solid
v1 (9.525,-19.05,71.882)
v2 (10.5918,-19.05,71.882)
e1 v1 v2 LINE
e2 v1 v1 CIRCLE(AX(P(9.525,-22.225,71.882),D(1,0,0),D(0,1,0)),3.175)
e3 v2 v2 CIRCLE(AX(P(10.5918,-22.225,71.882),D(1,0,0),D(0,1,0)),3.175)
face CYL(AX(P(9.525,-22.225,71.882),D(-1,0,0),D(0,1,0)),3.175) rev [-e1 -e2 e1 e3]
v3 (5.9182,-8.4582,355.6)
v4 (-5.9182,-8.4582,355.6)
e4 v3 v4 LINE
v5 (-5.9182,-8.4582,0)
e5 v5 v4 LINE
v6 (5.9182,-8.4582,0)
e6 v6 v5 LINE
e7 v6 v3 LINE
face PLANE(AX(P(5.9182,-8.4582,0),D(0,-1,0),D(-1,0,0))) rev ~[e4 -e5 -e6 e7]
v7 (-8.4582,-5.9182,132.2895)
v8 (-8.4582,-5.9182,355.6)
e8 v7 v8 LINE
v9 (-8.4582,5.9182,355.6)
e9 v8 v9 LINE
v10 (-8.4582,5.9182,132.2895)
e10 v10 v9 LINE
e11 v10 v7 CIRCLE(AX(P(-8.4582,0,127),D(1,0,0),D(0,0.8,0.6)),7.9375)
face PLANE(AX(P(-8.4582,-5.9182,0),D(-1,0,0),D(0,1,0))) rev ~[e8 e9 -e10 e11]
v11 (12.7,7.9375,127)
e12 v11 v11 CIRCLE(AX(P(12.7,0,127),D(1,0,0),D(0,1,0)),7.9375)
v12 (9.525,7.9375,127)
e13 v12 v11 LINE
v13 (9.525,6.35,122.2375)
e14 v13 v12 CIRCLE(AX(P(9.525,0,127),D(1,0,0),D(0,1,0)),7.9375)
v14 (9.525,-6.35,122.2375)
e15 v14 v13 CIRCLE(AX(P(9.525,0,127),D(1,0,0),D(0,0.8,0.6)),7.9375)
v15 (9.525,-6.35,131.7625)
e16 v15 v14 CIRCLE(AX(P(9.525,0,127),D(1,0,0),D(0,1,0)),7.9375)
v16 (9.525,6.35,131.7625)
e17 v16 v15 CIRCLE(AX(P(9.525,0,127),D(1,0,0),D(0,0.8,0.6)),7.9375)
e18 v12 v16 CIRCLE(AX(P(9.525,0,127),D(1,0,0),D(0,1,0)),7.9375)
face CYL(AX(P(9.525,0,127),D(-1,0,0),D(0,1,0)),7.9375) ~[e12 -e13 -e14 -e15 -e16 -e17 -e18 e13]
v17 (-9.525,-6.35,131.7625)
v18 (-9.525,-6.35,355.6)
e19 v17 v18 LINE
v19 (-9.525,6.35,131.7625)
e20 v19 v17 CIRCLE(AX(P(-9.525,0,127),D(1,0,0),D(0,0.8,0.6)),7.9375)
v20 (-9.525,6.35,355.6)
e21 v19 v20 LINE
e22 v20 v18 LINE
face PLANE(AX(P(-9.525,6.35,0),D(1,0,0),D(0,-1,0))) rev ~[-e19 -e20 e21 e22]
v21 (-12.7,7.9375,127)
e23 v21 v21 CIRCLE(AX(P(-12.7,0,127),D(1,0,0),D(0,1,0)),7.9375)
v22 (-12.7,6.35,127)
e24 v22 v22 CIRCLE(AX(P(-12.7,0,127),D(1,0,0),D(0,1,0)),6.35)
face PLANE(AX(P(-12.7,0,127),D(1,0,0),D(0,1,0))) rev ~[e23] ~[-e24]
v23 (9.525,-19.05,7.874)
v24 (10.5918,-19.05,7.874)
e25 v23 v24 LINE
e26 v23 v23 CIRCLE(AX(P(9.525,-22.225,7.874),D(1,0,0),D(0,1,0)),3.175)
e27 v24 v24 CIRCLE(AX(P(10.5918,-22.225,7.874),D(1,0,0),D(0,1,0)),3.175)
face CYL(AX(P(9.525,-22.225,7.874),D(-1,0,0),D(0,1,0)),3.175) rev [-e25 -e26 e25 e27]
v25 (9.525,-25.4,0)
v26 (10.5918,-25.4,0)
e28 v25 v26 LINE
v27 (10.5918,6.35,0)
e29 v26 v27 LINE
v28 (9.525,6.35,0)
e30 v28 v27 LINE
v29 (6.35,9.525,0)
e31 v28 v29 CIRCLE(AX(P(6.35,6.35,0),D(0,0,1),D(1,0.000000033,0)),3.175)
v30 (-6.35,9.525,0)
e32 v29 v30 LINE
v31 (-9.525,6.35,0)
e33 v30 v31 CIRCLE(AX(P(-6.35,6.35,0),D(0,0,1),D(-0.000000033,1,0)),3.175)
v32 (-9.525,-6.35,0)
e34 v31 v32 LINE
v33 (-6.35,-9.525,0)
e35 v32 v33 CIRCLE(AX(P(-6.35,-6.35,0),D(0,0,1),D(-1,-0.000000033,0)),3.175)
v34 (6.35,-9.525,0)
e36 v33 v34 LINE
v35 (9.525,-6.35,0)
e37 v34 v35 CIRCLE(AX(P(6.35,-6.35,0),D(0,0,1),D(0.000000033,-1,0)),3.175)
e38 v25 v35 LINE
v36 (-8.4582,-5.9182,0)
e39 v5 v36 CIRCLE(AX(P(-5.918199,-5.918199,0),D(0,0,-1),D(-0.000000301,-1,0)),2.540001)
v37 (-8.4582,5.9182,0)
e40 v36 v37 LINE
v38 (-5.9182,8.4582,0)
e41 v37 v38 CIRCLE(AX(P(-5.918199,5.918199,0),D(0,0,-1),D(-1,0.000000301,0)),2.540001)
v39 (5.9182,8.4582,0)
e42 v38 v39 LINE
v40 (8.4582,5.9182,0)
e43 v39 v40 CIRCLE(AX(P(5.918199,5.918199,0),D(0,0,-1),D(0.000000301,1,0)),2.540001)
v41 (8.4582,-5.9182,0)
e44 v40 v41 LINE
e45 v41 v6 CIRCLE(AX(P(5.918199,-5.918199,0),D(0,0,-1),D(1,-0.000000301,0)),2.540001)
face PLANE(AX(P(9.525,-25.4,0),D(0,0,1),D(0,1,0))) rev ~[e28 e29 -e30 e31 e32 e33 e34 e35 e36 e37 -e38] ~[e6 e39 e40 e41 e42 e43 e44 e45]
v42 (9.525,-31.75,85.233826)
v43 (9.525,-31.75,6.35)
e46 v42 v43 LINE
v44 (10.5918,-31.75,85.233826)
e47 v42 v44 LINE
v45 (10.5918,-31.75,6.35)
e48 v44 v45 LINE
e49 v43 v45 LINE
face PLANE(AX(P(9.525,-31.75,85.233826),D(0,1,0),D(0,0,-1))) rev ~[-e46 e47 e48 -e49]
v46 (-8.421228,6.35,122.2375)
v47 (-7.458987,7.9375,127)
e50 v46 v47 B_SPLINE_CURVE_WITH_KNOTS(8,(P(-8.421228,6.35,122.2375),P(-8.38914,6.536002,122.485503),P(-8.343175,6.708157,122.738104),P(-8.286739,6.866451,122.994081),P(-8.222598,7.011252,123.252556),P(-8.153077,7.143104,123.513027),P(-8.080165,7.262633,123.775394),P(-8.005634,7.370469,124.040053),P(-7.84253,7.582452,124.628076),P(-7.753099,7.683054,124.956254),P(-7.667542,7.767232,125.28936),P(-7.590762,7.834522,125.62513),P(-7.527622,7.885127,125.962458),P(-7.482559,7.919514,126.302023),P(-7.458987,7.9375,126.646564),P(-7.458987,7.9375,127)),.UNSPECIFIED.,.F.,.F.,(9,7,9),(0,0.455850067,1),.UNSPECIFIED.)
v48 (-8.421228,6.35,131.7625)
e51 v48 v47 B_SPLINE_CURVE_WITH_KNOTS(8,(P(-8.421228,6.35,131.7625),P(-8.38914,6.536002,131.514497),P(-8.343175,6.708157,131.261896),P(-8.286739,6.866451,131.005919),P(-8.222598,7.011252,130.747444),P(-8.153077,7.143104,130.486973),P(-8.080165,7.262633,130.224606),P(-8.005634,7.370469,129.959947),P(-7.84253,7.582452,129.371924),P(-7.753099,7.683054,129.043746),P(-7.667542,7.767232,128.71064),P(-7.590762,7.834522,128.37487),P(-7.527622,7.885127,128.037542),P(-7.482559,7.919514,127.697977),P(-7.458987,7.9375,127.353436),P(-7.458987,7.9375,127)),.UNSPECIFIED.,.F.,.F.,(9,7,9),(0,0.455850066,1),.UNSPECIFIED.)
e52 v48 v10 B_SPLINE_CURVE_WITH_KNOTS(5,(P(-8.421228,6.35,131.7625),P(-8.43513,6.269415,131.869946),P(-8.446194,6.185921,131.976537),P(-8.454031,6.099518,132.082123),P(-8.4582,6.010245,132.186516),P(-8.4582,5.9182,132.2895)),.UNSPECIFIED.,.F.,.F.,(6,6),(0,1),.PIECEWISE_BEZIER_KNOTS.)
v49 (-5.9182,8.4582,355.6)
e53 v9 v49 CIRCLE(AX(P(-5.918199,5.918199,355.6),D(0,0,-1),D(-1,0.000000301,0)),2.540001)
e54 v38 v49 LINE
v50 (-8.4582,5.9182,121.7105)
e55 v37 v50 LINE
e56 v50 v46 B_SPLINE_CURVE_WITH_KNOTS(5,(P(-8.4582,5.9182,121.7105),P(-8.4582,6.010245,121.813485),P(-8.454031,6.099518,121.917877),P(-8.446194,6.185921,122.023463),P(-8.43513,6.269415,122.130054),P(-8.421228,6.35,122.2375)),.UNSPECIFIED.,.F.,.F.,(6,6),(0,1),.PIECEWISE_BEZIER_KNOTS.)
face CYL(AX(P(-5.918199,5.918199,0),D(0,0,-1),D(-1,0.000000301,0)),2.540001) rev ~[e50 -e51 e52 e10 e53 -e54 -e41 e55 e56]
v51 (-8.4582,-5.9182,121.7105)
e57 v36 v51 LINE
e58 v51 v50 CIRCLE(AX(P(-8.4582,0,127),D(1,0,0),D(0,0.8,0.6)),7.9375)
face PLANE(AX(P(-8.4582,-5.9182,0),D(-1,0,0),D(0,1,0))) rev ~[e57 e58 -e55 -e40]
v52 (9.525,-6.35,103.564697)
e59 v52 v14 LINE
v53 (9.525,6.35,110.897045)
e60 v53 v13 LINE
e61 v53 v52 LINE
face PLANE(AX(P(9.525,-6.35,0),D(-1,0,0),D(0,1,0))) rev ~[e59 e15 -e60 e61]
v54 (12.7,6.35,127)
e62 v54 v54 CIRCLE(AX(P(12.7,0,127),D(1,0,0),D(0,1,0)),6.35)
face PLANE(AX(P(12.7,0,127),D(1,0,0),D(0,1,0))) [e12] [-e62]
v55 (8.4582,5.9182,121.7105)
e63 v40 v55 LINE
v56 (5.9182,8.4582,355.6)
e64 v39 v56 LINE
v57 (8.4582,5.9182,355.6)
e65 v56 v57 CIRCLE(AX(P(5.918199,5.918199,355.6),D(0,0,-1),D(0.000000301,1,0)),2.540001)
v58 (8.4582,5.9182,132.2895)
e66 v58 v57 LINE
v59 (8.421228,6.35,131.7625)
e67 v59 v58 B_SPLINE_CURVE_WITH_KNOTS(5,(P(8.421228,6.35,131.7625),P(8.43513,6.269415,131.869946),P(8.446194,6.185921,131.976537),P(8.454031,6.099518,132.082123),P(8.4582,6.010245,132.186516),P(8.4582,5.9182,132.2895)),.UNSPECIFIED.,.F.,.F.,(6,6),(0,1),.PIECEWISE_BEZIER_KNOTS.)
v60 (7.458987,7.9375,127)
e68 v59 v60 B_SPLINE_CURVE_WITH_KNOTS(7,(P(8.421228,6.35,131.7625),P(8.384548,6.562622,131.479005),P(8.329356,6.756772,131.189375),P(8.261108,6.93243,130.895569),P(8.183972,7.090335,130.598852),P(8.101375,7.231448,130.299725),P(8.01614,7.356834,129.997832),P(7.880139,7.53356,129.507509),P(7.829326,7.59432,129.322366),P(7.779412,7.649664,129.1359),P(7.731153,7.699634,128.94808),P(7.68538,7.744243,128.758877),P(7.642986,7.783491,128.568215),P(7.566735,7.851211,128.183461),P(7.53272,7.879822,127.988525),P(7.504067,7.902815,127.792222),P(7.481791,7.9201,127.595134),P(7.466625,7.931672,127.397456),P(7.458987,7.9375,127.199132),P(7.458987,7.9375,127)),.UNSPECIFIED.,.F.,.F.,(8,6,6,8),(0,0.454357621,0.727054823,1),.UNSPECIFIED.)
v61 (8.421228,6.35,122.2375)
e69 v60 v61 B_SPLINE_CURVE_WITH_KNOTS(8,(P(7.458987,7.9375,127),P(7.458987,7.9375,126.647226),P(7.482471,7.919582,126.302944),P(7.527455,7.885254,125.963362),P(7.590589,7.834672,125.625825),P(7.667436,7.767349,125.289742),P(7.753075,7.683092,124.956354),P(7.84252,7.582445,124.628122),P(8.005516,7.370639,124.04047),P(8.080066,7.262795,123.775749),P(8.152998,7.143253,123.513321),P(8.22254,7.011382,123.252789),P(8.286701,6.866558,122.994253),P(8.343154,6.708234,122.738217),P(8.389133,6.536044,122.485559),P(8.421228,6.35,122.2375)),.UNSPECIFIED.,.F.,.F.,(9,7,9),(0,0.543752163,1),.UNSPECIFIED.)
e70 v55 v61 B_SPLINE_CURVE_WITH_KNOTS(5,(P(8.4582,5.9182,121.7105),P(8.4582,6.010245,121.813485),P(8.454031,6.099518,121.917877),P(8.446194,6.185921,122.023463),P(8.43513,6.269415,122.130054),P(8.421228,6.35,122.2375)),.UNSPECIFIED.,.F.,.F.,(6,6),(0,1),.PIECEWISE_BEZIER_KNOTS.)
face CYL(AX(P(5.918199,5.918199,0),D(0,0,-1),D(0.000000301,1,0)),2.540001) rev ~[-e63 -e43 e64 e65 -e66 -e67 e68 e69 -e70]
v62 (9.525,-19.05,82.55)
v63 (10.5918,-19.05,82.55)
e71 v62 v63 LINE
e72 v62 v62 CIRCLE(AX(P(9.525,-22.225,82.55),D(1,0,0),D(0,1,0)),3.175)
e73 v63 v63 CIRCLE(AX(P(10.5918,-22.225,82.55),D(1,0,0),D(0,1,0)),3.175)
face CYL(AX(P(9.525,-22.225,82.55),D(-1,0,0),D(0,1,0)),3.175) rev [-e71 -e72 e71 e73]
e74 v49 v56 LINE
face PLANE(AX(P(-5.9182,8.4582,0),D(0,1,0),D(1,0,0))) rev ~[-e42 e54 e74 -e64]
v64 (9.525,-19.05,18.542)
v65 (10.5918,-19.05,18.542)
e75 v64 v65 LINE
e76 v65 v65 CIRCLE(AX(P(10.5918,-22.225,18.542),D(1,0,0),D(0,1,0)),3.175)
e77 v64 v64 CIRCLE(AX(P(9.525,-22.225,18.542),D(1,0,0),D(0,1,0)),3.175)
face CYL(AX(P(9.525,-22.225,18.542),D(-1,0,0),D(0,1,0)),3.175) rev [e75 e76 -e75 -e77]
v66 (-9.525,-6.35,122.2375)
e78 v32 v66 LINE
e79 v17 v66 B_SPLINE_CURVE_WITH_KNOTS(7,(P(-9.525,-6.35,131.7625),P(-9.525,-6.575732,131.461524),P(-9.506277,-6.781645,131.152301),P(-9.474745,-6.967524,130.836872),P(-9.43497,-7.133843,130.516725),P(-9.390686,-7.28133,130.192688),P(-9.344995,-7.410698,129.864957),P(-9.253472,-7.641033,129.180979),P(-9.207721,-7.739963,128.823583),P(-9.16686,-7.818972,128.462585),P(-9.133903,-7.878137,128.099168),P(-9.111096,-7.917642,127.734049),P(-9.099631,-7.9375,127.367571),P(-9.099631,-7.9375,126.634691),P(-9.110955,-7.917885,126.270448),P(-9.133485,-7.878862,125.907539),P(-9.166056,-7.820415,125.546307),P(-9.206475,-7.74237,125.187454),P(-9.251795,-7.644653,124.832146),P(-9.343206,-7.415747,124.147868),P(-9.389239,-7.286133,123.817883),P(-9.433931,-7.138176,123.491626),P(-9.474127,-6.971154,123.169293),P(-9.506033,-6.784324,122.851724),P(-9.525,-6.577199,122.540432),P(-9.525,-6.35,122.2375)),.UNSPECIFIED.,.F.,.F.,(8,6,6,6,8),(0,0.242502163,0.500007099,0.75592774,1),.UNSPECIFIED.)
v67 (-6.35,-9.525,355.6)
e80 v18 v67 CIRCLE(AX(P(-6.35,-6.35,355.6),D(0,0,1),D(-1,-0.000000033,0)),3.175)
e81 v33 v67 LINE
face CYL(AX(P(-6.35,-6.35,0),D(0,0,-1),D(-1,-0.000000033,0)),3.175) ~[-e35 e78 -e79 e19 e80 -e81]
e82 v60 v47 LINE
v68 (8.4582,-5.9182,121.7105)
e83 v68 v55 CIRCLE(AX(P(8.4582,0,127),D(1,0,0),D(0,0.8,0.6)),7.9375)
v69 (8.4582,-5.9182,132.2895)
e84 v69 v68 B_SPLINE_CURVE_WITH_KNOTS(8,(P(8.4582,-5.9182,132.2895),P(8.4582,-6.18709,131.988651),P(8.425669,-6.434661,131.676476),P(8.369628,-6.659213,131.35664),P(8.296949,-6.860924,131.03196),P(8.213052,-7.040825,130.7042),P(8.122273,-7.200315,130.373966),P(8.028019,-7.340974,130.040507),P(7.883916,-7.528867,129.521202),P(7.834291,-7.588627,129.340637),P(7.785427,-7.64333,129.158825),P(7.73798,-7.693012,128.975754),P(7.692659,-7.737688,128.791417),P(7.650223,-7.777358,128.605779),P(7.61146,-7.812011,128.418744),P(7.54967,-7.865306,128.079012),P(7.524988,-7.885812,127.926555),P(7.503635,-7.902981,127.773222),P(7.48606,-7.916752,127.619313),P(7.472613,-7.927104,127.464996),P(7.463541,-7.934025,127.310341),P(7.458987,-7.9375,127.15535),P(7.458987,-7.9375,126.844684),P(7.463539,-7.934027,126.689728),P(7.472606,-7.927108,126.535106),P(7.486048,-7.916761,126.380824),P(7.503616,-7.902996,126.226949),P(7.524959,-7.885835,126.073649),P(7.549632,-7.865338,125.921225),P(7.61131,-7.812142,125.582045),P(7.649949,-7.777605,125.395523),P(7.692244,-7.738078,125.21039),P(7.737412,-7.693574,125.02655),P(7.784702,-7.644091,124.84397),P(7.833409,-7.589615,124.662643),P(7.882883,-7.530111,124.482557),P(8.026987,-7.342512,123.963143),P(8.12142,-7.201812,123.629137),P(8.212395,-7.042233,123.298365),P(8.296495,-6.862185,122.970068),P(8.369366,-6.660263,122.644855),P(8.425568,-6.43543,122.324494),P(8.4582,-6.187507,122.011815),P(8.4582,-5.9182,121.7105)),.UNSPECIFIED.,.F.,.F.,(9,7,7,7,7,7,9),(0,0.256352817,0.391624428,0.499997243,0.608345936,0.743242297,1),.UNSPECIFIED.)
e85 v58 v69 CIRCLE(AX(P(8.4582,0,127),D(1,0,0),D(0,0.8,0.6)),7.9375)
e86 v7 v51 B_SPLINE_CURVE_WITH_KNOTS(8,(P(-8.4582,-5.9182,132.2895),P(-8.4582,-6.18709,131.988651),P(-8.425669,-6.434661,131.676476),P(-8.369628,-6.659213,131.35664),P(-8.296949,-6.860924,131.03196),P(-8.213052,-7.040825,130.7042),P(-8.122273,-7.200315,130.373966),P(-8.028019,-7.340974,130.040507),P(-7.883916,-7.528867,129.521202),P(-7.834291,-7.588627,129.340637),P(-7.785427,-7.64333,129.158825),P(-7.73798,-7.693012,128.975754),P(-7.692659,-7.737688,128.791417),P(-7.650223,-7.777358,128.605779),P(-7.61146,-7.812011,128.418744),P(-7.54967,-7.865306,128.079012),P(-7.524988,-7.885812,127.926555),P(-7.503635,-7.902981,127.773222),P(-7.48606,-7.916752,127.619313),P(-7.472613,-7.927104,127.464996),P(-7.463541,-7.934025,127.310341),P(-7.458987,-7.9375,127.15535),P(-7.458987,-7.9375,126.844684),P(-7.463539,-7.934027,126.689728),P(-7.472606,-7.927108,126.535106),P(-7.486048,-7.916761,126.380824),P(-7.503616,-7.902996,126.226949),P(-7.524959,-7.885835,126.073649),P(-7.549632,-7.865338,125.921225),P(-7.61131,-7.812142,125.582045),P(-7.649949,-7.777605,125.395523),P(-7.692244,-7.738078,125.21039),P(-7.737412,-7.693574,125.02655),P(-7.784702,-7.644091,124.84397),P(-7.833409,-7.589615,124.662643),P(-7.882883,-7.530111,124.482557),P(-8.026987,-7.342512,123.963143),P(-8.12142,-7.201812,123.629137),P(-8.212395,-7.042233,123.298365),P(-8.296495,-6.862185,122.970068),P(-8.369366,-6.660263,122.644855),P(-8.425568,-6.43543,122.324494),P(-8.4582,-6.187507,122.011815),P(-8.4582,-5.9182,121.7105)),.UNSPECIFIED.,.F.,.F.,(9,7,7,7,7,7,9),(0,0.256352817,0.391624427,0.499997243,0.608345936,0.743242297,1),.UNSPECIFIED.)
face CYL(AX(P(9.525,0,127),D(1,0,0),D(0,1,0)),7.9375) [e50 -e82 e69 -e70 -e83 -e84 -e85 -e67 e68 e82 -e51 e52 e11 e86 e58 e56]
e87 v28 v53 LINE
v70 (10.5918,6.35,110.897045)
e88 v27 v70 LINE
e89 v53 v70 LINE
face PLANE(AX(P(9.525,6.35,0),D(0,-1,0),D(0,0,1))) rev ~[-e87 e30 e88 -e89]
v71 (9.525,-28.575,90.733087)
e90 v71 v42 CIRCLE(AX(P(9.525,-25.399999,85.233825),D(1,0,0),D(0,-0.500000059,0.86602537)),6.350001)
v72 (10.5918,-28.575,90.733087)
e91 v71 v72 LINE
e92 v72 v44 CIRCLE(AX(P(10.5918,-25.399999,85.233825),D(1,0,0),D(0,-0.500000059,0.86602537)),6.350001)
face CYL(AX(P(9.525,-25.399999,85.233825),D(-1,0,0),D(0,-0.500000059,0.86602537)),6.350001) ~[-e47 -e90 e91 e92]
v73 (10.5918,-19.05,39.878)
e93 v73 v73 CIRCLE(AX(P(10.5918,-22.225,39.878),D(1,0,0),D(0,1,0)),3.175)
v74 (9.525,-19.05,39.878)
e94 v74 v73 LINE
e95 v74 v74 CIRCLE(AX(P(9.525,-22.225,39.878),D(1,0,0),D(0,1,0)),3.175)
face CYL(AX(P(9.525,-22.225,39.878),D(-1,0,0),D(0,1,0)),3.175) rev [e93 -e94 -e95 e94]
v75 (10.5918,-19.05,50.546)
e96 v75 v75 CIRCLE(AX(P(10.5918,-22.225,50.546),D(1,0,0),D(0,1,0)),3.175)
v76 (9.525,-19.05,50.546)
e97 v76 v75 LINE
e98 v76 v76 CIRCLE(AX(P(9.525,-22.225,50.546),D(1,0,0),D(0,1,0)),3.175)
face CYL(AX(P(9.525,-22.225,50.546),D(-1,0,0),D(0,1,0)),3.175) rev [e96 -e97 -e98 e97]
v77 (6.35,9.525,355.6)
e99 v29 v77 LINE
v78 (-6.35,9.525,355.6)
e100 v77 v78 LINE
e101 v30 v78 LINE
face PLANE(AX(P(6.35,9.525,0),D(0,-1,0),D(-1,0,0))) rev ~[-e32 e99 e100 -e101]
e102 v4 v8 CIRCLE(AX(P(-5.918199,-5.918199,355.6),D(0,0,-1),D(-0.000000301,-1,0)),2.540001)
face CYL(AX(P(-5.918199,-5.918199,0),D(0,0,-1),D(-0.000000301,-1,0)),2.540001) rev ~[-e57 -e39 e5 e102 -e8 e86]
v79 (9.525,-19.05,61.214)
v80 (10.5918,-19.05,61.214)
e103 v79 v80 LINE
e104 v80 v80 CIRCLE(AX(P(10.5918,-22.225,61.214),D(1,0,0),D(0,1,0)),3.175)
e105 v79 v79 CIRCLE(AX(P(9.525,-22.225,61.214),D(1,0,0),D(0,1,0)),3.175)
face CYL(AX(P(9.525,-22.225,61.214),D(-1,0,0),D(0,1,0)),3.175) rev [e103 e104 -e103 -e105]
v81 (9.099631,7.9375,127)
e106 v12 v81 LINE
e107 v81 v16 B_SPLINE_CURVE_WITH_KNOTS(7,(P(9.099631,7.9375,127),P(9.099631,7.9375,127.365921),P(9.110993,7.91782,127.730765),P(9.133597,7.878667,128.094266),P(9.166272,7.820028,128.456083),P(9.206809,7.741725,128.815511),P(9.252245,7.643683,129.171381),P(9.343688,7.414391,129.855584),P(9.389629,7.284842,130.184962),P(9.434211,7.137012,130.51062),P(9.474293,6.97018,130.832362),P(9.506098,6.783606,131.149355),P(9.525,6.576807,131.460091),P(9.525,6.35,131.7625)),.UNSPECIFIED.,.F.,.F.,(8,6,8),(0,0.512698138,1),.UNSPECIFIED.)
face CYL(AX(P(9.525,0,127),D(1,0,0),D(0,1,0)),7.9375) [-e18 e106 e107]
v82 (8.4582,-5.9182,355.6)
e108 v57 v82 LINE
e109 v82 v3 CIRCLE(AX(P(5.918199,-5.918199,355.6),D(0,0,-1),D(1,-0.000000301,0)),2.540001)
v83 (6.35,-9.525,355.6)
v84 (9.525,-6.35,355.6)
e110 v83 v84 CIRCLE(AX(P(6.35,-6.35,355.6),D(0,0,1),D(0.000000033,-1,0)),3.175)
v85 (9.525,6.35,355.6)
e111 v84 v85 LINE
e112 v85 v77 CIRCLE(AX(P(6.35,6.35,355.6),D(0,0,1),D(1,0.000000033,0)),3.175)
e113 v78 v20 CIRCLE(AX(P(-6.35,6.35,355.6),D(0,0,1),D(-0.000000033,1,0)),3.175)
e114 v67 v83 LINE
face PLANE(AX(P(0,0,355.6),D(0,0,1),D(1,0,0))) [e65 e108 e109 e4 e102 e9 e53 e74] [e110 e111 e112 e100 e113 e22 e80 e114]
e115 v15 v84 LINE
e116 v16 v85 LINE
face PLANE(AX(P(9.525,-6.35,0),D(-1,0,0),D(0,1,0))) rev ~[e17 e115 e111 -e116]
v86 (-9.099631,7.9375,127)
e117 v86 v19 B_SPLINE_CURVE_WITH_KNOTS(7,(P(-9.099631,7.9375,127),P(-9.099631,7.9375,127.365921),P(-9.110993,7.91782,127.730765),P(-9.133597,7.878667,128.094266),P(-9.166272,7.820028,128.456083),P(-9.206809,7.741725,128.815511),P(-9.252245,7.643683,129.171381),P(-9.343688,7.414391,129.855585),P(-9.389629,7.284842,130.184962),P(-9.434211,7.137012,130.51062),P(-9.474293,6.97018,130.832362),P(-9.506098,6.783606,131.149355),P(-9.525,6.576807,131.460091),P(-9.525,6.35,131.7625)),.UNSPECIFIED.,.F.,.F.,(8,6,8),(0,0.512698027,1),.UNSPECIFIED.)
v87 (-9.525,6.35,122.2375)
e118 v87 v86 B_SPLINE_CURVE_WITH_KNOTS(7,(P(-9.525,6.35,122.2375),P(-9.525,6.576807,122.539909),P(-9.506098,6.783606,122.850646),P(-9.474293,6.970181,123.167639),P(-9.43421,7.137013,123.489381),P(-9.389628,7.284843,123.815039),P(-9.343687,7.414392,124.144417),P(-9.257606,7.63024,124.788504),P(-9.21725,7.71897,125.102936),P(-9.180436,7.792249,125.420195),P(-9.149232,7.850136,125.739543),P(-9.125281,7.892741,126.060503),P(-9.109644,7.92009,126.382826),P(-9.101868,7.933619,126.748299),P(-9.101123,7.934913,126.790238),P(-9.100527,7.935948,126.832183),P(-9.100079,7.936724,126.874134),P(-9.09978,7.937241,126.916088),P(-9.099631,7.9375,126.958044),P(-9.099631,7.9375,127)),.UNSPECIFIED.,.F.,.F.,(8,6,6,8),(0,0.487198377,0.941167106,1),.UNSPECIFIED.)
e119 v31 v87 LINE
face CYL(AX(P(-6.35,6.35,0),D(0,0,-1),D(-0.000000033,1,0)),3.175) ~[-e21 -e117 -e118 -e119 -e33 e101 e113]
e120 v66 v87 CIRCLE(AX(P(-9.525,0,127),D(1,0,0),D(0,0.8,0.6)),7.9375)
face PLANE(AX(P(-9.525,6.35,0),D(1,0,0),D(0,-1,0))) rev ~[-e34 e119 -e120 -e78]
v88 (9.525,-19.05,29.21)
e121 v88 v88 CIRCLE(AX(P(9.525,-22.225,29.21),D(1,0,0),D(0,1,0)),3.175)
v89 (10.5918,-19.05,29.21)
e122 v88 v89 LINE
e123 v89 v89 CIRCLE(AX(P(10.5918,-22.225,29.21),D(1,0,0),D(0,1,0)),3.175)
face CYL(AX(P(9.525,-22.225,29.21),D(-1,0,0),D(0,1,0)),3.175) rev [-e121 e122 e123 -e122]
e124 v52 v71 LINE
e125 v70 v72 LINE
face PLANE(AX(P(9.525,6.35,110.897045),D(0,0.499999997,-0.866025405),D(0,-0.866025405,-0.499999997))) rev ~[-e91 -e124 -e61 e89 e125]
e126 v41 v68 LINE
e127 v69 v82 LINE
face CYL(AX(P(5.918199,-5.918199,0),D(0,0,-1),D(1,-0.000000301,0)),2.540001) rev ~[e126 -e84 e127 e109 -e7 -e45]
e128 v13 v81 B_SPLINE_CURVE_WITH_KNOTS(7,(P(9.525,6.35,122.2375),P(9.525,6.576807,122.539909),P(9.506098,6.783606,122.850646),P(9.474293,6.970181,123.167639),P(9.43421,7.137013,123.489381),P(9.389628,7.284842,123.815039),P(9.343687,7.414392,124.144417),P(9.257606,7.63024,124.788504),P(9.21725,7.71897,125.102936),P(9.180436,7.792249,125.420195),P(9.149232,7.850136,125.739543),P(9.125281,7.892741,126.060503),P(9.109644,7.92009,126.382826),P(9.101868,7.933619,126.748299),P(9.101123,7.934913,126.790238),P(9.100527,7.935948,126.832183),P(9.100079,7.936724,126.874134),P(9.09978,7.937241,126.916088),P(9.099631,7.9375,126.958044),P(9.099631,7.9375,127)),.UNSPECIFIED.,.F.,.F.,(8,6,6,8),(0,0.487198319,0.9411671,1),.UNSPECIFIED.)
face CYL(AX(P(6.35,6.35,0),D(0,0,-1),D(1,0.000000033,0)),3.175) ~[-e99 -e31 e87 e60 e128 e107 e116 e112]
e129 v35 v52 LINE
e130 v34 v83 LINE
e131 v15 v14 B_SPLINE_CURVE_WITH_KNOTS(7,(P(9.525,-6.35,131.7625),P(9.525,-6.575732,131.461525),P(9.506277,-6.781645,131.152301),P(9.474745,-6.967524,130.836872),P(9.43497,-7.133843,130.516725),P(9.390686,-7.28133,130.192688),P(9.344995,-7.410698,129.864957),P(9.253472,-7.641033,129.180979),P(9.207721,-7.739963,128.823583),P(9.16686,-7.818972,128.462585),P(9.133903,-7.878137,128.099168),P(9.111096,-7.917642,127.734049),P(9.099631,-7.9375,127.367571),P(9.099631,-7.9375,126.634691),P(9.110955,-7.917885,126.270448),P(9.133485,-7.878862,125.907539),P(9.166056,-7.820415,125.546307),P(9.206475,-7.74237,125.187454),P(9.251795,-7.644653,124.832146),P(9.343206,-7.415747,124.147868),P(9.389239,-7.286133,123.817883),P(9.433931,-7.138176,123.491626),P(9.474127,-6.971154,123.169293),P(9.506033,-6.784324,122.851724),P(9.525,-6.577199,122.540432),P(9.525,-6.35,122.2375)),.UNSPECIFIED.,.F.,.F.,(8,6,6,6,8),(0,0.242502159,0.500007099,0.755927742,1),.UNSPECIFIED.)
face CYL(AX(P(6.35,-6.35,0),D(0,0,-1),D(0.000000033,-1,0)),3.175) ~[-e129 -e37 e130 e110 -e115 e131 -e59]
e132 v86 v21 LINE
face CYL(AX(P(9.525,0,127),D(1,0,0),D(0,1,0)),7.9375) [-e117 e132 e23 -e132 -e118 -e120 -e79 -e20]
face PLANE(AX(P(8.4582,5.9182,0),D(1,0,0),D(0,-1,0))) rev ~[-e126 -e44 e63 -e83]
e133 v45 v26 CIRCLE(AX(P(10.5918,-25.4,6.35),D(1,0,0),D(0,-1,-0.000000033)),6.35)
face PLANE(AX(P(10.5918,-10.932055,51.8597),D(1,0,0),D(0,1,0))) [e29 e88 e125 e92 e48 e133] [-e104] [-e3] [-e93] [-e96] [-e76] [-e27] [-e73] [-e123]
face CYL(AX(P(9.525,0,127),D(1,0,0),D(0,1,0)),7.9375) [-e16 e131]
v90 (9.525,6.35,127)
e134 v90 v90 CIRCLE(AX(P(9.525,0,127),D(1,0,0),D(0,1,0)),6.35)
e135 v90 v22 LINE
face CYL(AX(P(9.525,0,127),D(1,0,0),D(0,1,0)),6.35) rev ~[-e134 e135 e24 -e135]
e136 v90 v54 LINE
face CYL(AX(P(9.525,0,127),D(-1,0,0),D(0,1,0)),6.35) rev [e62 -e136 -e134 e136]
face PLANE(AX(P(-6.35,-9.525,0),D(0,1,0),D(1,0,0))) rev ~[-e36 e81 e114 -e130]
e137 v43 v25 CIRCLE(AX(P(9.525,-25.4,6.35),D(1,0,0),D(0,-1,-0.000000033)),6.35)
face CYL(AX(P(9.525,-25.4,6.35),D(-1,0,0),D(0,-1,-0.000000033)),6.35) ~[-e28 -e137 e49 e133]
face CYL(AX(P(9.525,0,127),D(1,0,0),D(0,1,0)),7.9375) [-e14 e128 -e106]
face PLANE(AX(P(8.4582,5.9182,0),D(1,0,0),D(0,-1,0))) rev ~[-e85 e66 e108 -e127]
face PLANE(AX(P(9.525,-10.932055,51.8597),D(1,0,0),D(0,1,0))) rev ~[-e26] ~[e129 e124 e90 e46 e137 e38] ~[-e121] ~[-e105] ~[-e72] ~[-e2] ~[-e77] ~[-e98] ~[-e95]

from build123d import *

# Parameters (mm, degrees)
F1_DEPTH      = 355.6
F3_DEPTH      = 19.051
F4_R          = 7.9375
F4_R_2        = 6.35
F5_DEPTH      = 3.175
F5_DEPTH_BACK = 22.225
F6_R          = 3.175
F7_DEPTH      = 1.0668


with BuildPart() as f1:
    # F0 (on Top) → F1 (new body)
    with BuildSketch(Plane.XY):
        with BuildLine():
            Line((-6.35, -9.525), (6.35, -9.525))
            ThreePointArc((6.35, -9.525), (8.595064, -8.595064), (9.525, -6.35))
            Line((9.525, -6.35), (9.525, 6.35))
            ThreePointArc((9.525, 6.35), (8.595064, 8.595064), (6.35, 9.525))
            Line((6.35, 9.525), (-6.35, 9.525))
            ThreePointArc((-6.35, 9.525), (-8.595064, 8.595064), (-9.525, 6.35))
            Line((-9.525, 6.35), (-9.525, -6.35))
            ThreePointArc((-9.525, -6.35), (-8.595064, -8.595064), (-6.35, -9.525))
        make_face()
        with BuildLine():
            ThreePointArc((-5.9182, -8.4582), (-7.714251, -7.714251), (-8.4582, -5.9182))
            Line((-8.4582, -5.9182), (-8.4582, 5.9182))
            ThreePointArc((-8.4582, 5.9182), (-7.714251, 7.714251), (-5.9182, 8.4582))
            Line((-5.9182, 8.4582), (5.9182, 8.4582))
            ThreePointArc((5.9182, 8.4582), (7.714251, 7.714251), (8.4582, 5.9182))
            Line((8.4582, 5.9182), (8.4582, -5.9182))
            ThreePointArc((8.4582, -5.9182), (7.714251, -7.714251), (5.9182, -8.4582))
            Line((5.9182, -8.4582), (-5.9182, -8.4582))
        make_face(mode=Mode.SUBTRACT)
    extrude(amount=F1_DEPTH)

    # F2 (on face) → F3 (cut, through all)
    with BuildSketch(Plane.YZ.offset(9.525)):
        with BuildLine():
            Line((-6.35, 122.2375), (-6.35, 131.7625))
            ThreePointArc((-6.35, 131.7625), (-7.9375, 127), (-6.35, 122.2375))
        make_face()
        with BuildLine():
            ThreePointArc((6.35, 122.2375), (7.530174, 124.489942), (7.9375, 127))
            ThreePointArc((7.9375, 127), (7.530174, 129.510058), (6.35, 131.7625))
            Line((6.35, 131.7625), (6.35, 122.2375))
        make_face()
        with BuildLine():
            Line((6.35, 122.2375), (6.35, 131.7625))
            ThreePointArc((6.35, 131.7625), (0, 134.9375), (-6.35, 131.7625))
            Line((-6.35, 131.7625), (-6.35, 122.2375))
            ThreePointArc((-6.35, 122.2375), (0, 119.0625), (6.35, 122.2375))
        make_face()
    extrude(amount=-F3_DEPTH, mode=Mode.SUBTRACT)

    # F4 (on face) → F5 (join, two sides)
    with BuildSketch(Plane.YZ.offset(9.525)) as f5_sk:
        with Locations((0, 127)):
            Circle(F4_R)
        with Locations((0, 127)):
            Circle(F4_R_2, mode=Mode.SUBTRACT)
    extrude(amount=F5_DEPTH)
    extrude(f5_sk.sketch, amount=-F5_DEPTH_BACK)

    # F6 (on face) → F7 (join)
    with BuildSketch(Plane.YZ.offset(9.525)):
        with BuildLine():
            Line((-25.4, 0), (6.35, 0))
            Line((6.35, 0), (6.35, 110.897045))
            Line((6.35, 110.897045), (-28.575, 90.733087))
            ThreePointArc((-28.575, 90.733087), (-30.899261, 88.408826), (-31.75, 85.233826))
            Line((-31.75, 85.233826), (-31.75, 6.35))
            ThreePointArc((-31.75, 6.35), (-29.890128, 1.859872), (-25.4, 0))
        make_face()
        with Locations((-22.225, 7.874)):
            Circle(F6_R, mode=Mode.SUBTRACT)
        with Locations((-22.225, 18.542)):
            Circle(F6_R, mode=Mode.SUBTRACT)
        with Locations((-22.225, 29.21)):
            Circle(F6_R, mode=Mode.SUBTRACT)
        with Locations((-22.225, 39.878)):
            Circle(F6_R, mode=Mode.SUBTRACT)
        with Locations((-22.225, 50.546)):
            Circle(F6_R, mode=Mode.SUBTRACT)
        with Locations((-22.225, 61.214)):
            Circle(F6_R, mode=Mode.SUBTRACT)
        with Locations((-22.225, 71.882)):
            Circle(F6_R, mode=Mode.SUBTRACT)
        with Locations((-22.225, 82.55)):
            Circle(F6_R, mode=Mode.SUBTRACT)
    extrude(amount=F7_DEPTH)


solid = f1.part
